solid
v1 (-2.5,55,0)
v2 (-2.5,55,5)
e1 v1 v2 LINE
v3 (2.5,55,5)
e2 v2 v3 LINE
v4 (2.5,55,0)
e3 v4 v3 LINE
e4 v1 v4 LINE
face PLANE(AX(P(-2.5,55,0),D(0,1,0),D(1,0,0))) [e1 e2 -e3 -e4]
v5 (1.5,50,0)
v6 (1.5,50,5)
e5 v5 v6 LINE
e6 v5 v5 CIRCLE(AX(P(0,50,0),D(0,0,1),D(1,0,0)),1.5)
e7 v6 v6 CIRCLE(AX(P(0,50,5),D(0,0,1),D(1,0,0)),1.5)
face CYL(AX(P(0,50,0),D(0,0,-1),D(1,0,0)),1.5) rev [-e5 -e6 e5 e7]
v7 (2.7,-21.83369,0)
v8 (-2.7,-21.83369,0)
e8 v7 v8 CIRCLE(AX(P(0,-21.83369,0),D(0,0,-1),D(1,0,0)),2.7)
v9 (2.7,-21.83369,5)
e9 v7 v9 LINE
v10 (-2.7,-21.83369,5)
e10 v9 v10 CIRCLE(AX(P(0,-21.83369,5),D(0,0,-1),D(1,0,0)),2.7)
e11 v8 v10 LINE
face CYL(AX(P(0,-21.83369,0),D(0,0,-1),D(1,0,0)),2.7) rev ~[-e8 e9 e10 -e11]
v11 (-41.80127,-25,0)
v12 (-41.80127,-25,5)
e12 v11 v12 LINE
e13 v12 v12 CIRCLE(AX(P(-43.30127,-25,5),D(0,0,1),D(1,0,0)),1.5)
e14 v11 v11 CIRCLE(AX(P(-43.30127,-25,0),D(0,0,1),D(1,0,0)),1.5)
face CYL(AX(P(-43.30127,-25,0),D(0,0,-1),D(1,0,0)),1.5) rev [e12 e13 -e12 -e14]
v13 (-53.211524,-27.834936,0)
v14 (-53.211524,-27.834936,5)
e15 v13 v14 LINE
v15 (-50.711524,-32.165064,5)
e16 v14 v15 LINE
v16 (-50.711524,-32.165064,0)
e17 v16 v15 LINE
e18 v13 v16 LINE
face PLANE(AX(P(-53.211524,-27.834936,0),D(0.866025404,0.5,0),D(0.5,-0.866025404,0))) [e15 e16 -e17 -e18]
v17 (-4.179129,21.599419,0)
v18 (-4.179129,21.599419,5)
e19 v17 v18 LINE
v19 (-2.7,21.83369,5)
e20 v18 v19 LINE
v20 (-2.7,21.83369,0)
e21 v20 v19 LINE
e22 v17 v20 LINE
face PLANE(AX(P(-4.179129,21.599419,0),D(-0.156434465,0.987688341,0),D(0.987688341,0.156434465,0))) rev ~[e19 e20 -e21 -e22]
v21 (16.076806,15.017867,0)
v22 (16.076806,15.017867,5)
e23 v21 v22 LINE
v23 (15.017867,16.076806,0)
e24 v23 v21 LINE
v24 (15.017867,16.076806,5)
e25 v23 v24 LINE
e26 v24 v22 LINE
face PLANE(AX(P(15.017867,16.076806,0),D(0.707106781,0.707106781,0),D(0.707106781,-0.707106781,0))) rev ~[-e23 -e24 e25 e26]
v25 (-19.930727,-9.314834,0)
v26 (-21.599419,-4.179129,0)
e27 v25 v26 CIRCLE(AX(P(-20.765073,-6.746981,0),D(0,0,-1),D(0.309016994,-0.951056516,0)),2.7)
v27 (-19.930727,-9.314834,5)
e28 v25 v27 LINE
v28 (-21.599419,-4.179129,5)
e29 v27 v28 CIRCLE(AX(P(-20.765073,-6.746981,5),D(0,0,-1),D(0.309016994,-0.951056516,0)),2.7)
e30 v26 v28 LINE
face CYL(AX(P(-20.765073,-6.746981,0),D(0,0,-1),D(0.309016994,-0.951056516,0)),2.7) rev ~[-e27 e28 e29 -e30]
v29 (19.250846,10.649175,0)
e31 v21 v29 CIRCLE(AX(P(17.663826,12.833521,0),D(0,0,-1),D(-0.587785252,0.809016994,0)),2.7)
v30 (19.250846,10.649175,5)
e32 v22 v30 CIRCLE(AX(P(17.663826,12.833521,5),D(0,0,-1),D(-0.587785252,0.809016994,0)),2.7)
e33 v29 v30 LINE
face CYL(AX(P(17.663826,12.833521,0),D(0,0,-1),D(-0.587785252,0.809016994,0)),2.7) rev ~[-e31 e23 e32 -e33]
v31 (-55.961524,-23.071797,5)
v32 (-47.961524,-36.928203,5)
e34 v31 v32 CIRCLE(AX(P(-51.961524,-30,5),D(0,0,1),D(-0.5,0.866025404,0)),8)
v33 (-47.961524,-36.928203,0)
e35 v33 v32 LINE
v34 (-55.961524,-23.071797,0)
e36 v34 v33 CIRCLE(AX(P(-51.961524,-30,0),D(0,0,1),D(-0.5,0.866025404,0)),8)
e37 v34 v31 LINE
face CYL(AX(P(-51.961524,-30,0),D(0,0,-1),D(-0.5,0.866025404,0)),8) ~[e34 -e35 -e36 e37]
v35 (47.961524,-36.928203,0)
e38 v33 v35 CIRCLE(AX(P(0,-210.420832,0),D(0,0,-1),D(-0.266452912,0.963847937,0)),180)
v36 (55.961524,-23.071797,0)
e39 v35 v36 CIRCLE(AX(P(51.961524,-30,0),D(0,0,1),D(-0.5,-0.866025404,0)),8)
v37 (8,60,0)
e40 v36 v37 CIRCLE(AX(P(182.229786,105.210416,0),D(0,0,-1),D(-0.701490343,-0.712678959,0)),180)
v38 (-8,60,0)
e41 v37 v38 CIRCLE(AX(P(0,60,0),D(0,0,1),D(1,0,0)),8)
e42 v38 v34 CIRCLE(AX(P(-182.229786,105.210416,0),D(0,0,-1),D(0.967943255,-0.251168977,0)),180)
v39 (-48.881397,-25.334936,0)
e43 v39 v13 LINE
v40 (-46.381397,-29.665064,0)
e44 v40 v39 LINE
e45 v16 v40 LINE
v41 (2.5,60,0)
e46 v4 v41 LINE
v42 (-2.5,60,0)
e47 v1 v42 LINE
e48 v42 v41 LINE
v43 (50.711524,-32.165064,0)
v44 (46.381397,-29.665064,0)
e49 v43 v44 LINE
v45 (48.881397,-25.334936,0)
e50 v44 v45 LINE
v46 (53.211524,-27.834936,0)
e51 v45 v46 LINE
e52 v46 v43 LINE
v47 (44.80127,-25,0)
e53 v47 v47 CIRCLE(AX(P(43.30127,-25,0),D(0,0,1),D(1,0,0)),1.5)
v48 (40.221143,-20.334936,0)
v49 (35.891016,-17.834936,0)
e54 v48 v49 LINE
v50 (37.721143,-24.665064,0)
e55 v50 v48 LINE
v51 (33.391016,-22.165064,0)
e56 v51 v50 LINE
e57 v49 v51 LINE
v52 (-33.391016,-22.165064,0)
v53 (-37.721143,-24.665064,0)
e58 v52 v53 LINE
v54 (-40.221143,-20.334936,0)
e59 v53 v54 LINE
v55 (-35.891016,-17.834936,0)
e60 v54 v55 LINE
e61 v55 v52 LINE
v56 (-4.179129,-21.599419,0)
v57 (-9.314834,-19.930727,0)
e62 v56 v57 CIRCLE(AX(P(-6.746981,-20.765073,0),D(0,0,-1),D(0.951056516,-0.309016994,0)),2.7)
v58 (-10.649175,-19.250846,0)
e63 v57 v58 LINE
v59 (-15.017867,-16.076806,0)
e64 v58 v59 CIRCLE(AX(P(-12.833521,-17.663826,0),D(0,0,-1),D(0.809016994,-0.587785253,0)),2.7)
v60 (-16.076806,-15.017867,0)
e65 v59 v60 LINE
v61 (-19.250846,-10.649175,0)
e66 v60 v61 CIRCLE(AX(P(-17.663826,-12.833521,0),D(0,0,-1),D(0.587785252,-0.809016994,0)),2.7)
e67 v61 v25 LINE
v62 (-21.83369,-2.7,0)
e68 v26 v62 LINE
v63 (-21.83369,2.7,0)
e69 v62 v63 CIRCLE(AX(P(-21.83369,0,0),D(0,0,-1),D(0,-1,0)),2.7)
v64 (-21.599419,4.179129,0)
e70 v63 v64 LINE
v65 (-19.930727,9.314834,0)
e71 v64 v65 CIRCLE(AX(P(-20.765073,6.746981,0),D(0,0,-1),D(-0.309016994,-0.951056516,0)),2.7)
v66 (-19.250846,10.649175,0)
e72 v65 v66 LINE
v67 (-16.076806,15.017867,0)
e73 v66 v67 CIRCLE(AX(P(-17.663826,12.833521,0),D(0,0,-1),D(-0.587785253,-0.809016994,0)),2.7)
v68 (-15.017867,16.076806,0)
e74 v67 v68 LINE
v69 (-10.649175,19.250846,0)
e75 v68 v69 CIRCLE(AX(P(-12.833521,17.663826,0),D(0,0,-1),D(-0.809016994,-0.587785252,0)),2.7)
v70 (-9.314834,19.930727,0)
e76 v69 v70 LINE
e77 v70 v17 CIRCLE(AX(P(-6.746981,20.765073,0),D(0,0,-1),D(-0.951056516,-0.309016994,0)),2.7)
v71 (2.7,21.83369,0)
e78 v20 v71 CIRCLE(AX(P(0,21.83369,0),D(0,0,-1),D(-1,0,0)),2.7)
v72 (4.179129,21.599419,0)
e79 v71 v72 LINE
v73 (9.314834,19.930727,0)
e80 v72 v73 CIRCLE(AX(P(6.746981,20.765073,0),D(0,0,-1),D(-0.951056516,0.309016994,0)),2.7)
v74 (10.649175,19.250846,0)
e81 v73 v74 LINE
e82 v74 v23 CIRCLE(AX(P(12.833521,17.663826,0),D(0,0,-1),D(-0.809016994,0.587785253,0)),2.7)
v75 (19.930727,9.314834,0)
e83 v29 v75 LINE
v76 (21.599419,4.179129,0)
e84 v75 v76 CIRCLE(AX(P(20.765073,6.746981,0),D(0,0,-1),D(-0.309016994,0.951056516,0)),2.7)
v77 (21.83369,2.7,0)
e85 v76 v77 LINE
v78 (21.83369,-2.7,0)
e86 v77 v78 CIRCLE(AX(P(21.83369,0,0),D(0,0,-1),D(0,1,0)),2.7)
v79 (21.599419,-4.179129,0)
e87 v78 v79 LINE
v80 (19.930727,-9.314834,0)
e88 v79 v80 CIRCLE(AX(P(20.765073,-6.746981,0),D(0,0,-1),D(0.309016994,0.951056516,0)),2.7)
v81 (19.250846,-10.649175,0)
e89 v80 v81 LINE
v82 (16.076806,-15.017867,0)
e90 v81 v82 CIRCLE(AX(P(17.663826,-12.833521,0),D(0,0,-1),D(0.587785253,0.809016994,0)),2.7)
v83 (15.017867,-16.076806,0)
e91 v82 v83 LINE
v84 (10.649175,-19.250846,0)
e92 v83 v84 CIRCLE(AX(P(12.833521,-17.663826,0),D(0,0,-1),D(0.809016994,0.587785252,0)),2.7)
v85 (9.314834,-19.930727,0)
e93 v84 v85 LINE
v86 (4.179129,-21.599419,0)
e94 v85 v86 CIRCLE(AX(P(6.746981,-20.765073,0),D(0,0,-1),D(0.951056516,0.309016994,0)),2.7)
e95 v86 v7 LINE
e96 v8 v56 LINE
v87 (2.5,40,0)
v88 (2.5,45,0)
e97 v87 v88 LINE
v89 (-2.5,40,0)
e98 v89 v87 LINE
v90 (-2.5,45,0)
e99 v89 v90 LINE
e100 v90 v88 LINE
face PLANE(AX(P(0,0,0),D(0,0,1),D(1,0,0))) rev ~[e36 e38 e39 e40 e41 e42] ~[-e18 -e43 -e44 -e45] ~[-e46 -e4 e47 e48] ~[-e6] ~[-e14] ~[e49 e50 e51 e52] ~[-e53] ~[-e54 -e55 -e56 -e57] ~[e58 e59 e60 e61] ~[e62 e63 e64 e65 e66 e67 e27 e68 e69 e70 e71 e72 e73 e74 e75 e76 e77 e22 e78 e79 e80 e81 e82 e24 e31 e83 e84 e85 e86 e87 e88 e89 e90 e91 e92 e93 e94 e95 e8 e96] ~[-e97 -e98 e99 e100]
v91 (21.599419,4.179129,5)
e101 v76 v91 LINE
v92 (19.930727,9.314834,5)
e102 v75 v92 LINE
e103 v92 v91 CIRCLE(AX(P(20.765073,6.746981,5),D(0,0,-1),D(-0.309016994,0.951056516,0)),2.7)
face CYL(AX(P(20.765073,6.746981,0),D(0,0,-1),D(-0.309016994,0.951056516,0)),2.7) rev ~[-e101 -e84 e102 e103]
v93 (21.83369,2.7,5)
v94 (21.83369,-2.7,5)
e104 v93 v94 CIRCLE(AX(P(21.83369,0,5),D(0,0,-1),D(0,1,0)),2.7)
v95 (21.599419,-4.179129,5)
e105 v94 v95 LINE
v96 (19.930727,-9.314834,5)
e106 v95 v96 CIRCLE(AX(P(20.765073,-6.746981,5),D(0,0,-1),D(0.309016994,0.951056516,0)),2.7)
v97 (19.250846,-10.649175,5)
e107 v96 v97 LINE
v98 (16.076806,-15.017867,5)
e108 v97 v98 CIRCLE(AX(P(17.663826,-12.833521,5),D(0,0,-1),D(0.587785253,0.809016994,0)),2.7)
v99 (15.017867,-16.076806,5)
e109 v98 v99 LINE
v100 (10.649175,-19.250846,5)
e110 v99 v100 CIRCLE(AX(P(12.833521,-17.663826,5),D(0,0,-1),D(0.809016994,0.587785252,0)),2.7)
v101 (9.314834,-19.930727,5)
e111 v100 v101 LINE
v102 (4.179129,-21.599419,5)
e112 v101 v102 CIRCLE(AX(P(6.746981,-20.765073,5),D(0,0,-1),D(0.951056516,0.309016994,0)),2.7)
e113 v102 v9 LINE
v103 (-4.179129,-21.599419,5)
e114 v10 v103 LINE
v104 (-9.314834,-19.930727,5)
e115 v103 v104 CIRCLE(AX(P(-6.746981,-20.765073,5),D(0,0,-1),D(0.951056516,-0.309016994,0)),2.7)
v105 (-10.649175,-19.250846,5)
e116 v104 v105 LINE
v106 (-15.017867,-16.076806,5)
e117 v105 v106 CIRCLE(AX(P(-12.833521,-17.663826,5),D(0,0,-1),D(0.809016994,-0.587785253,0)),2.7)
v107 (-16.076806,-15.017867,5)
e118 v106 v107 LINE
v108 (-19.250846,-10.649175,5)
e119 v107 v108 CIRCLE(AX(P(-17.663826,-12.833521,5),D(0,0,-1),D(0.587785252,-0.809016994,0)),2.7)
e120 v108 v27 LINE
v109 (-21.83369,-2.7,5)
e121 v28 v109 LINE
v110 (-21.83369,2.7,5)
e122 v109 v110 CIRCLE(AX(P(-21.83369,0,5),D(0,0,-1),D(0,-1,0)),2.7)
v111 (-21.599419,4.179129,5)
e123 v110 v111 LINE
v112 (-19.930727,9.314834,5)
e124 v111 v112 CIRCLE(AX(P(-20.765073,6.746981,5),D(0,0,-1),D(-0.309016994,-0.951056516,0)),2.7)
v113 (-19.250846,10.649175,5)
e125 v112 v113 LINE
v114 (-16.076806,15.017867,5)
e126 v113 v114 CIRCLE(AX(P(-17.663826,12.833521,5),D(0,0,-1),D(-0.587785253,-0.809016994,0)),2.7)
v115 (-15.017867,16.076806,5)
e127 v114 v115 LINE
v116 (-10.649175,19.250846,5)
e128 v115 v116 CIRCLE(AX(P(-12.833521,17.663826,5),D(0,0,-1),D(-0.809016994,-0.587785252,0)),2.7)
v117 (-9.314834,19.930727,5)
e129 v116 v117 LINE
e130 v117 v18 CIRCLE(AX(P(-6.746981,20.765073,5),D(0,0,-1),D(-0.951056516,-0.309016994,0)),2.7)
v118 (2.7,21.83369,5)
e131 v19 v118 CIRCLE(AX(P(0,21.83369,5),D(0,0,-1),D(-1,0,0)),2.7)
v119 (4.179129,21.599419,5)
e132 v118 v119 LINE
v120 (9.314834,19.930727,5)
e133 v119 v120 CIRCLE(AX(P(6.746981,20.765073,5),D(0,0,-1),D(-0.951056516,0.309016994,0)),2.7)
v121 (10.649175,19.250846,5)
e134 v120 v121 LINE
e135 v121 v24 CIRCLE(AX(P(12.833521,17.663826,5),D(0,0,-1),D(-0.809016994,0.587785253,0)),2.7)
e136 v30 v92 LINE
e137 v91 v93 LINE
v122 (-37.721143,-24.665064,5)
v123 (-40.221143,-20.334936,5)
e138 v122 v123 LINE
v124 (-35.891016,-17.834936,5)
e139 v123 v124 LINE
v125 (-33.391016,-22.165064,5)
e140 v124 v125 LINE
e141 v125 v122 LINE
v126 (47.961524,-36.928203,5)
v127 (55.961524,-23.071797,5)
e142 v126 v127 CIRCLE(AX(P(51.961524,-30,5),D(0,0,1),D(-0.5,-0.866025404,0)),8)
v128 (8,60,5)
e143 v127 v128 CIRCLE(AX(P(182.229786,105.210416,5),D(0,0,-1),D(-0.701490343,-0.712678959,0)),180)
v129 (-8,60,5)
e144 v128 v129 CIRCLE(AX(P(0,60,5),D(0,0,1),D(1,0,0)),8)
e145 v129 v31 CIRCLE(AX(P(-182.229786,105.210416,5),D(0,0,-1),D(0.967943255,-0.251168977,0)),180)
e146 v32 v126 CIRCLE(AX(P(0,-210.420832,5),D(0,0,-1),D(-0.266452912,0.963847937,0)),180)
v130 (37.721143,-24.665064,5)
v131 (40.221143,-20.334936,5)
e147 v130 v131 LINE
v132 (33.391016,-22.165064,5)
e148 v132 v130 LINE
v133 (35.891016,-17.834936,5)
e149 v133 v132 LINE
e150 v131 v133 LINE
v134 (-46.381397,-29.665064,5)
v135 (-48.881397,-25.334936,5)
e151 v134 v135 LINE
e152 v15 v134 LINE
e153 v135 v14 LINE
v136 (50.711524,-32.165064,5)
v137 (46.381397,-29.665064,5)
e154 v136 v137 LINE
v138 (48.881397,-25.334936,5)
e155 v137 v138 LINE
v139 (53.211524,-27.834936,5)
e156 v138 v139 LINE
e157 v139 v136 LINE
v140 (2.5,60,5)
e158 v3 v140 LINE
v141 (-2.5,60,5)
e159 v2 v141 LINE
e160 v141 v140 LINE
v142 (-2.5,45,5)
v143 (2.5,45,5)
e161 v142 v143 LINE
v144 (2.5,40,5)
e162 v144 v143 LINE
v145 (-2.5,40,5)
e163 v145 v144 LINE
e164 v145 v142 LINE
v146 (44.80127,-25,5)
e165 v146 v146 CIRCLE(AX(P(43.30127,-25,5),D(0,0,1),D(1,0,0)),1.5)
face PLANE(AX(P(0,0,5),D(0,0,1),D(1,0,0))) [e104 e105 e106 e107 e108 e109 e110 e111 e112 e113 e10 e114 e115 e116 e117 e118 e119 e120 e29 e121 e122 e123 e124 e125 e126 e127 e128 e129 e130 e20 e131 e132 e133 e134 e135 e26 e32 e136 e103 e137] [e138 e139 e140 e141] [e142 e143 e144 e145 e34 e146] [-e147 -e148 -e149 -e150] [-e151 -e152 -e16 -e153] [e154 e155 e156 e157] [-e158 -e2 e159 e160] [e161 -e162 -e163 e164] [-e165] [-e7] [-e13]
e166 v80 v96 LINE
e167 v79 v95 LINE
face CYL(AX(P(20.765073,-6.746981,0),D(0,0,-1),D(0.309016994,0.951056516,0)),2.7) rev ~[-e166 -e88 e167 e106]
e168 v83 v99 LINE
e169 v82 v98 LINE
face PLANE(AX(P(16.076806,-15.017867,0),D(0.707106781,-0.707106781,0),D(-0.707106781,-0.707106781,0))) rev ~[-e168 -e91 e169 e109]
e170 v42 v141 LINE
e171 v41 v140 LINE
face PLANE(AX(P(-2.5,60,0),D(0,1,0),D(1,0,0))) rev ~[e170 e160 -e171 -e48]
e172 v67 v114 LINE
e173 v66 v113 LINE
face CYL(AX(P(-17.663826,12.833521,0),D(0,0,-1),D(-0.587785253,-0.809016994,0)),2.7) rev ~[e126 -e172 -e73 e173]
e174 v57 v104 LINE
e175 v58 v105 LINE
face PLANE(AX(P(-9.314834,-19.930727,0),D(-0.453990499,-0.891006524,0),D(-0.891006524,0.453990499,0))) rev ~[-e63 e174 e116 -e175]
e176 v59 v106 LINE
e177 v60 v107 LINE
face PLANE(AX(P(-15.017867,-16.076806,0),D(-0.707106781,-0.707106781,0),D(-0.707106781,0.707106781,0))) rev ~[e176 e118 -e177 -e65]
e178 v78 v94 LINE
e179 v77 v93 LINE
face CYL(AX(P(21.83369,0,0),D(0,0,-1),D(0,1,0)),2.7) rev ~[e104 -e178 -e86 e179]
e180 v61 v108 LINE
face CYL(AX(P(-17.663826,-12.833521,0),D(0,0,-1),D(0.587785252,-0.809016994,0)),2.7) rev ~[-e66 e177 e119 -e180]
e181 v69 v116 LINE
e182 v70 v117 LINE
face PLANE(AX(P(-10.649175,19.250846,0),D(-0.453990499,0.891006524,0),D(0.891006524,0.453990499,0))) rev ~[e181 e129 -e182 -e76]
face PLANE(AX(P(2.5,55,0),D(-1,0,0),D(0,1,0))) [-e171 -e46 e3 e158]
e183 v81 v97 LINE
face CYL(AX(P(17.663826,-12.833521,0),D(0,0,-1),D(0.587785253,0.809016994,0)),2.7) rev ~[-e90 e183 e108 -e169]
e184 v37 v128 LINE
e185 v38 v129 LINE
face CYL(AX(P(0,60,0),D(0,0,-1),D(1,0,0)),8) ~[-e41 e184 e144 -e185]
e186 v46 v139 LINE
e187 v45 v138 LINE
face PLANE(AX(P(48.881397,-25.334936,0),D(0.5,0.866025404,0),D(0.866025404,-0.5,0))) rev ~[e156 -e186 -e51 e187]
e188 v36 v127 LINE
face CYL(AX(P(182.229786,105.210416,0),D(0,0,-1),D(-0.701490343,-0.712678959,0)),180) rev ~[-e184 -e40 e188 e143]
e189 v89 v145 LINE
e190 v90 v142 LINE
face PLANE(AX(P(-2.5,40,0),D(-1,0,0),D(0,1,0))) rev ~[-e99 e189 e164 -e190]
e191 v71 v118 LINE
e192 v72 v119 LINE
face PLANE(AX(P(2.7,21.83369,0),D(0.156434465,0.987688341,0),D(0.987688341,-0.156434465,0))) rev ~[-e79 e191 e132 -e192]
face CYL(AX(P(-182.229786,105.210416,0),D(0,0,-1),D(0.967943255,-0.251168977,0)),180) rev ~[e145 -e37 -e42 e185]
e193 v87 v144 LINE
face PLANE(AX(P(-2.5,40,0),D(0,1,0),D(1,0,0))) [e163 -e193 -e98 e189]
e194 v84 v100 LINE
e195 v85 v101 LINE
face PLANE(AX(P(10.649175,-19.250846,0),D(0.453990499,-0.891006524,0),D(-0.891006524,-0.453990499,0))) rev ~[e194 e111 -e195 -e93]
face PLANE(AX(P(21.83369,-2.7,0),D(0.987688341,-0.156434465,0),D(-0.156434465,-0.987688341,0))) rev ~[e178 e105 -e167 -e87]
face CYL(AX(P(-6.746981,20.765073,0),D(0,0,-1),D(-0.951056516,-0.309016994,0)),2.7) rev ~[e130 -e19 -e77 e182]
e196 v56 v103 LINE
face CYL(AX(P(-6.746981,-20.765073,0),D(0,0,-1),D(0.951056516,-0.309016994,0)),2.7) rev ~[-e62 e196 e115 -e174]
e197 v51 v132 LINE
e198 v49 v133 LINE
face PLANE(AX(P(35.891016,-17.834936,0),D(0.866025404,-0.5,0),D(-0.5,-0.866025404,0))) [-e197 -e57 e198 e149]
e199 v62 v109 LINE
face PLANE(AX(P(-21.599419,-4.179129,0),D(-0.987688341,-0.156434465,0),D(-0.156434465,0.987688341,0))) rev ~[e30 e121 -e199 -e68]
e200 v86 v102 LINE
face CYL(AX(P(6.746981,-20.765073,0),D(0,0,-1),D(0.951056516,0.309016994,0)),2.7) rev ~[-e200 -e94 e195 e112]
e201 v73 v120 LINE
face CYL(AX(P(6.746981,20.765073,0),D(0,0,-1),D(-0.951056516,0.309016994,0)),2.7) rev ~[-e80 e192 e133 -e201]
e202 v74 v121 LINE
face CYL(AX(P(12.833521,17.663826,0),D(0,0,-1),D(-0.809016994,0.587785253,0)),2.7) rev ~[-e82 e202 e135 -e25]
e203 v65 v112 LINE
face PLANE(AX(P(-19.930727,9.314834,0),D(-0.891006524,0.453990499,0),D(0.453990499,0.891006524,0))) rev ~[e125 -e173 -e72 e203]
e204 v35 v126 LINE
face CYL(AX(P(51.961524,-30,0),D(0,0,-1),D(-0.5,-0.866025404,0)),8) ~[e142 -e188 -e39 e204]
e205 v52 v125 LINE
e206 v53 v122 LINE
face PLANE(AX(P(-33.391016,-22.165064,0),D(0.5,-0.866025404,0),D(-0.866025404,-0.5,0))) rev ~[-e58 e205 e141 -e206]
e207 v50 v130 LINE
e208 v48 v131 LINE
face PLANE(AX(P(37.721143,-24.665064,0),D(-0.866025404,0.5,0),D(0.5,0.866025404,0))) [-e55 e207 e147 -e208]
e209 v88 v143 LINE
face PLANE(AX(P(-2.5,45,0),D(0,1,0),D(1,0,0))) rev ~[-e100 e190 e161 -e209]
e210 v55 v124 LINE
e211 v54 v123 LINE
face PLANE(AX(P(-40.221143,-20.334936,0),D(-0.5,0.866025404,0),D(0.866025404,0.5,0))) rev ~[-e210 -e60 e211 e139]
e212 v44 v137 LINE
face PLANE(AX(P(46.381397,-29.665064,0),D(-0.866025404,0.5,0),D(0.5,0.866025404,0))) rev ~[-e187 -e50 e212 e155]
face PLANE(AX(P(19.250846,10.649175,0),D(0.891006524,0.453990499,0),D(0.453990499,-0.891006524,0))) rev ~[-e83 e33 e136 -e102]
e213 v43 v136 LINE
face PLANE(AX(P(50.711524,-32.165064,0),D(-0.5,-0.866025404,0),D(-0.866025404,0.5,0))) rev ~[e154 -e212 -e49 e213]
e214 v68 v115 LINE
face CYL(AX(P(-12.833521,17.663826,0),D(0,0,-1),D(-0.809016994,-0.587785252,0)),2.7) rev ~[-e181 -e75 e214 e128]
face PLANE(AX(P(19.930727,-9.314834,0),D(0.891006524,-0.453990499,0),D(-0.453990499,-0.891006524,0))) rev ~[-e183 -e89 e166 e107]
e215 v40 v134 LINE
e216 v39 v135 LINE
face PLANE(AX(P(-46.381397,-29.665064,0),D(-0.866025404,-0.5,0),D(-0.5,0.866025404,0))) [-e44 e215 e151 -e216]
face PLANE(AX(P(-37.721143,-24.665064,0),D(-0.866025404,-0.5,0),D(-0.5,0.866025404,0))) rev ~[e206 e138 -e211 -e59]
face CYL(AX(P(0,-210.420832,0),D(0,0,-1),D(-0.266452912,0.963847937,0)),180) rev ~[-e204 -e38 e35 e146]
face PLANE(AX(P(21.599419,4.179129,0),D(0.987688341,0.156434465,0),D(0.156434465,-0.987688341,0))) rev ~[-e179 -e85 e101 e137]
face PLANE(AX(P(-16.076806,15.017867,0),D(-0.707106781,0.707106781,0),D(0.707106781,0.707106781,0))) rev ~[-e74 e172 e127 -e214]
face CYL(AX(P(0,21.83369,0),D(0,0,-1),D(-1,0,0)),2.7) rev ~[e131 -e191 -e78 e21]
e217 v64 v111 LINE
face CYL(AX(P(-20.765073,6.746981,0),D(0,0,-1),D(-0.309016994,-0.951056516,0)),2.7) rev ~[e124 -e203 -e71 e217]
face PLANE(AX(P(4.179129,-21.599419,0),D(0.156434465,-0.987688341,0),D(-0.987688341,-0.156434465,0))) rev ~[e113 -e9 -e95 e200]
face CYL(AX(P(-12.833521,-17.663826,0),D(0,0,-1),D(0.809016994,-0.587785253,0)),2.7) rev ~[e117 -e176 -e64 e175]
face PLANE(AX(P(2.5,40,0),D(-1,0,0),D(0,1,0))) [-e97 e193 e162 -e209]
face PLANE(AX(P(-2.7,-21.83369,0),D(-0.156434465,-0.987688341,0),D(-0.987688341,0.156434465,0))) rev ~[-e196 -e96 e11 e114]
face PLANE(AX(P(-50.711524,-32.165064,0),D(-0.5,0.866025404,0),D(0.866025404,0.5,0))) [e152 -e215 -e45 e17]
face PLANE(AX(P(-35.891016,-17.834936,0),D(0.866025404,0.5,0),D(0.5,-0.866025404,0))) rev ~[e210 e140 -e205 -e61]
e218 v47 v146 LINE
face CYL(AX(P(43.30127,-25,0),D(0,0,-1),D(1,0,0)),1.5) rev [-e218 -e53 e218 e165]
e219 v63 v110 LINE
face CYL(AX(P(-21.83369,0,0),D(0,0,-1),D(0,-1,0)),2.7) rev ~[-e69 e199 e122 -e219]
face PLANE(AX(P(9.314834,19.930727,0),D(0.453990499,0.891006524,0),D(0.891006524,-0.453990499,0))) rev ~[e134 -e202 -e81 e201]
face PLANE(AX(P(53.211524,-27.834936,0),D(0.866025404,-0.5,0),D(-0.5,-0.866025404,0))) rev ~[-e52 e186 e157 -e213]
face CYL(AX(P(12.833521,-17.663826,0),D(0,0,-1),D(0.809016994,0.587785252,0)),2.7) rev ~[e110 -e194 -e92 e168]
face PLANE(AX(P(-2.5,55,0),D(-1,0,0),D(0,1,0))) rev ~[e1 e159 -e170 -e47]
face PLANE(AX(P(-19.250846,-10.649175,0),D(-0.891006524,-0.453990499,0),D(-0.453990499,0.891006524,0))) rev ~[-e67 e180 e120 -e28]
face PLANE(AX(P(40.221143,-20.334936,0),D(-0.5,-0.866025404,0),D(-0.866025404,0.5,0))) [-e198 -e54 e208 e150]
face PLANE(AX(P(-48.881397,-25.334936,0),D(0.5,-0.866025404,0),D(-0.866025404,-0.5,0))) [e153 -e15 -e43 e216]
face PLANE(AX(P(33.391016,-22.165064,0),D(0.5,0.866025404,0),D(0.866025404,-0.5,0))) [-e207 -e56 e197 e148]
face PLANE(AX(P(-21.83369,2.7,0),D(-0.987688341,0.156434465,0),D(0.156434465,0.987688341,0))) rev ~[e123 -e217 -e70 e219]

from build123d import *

# Parameters (mm, degrees)
ESQUISSE1_R        = 1.5
ESQUISSE1_W        = 5
ESQUISSE1_H        = 5
BOSS_EXTRU_1_DEPTH = 5


with BuildPart() as part:
    # Esquisse1 → Boss.-Extru.1 (new body)
    with BuildSketch(Plane.XY):
        with BuildLine():
            ThreePointArc((-55.961524227, -23.07179677), (-58.889727457, -34), (-47.961524227, -36.92820323))
            ThreePointArc((-47.961524227, -36.92820323), (0, -30.420831874), (47.961524227, -36.92820323))
            ThreePointArc((47.961524227, -36.92820323), (58.889727457, -34), (55.961524227, -23.07179677))
            ThreePointArc((55.961524227, -23.07179677), (26.345213207, 15.210415937), (8, 60))
            ThreePointArc((8, 60), (0, 68), (-8, 60))
            ThreePointArc((-8, 60), (-26.345213207, 15.210415937), (-55.961524227, -23.07179677))
        make_face()
        with Locations((43.301270189, -25)):
            Circle(ESQUISSE1_R, mode=Mode.SUBTRACT)
        with Locations((0, 50)):
            Circle(ESQUISSE1_R, mode=Mode.SUBTRACT)
        with Locations((-43.301270189, -25)):
            Circle(ESQUISSE1_R, mode=Mode.SUBTRACT)
        with BuildLine():
            Line((2.7, 21.833689565), (4.179128531, 21.59941862))
            ThreePointArc((4.179128531, 21.59941862), (7.58132701, 23.332925329), (9.314833719, 19.93072685))
            Line((9.314833719, 19.93072685), (10.649174844, 19.250846089))
            ThreePointArc((10.649174844, 19.250846089), (14.42054091, 19.848171792), (15.017866614, 16.076805726))
            Line((15.017866614, 16.076805726), (16.076805726, 15.017866614))
            ThreePointArc((16.076805726, 15.017866614), (19.848171792, 14.42054091), (19.250846089, 10.649174844))
            Line((19.250846089, 10.649174844), (19.93072685, 9.314833719))
            ThreePointArc((19.93072685, 9.314833719), (23.332925329, 7.58132701), (21.59941862, 4.179128531))
            Line((21.59941862, 4.179128531), (21.833689565, 2.7))
            ThreePointArc((21.833689565, 2.7), (24.533689565, 0), (21.833689565, -2.7))
            Line((21.833689565, -2.7), (21.59941862, -4.179128531))
            ThreePointArc((21.59941862, -4.179128531), (23.332925329, -7.58132701), (19.93072685, -9.314833719))
            Line((19.93072685, -9.314833719), (19.250846089, -10.649174844))
            ThreePointArc((19.250846089, -10.649174844), (19.848171792, -14.42054091), (16.076805726, -15.017866614))
            Line((16.076805726, -15.017866614), (15.017866614, -16.076805726))
            ThreePointArc((15.017866614, -16.076805726), (14.42054091, -19.848171792), (10.649174844, -19.250846089))
            Line((10.649174844, -19.250846089), (9.314833719, -19.93072685))
            ThreePointArc((9.314833719, -19.93072685), (7.58132701, -23.332925329), (4.179128531, -21.59941862))
            Line((4.179128531, -21.59941862), (2.7, -21.833689565))
            ThreePointArc((2.7, -21.833689565), (0, -24.533689565), (-2.7, -21.833689565))
            Line((-2.7, -21.833689565), (-4.179128531, -21.59941862))
            ThreePointArc((-4.179128531, -21.59941862), (-7.58132701, -23.332925329), (-9.314833719, -19.93072685))
            Line((-9.314833719, -19.93072685), (-10.649174844, -19.250846089))
            ThreePointArc((-10.649174844, -19.250846089), (-14.42054091, -19.848171792), (-15.017866614, -16.076805726))
            Line((-15.017866614, -16.076805726), (-16.076805726, -15.017866614))
            ThreePointArc((-16.076805726, -15.017866614), (-19.848171792, -14.42054091), (-19.250846089, -10.649174844))
            Line((-19.250846089, -10.649174844), (-19.93072685, -9.314833719))
            ThreePointArc((-19.93072685, -9.314833719), (-23.332925329, -7.58132701), (-21.59941862, -4.179128531))
            Line((-21.59941862, -4.179128531), (-21.833689565, -2.7))
            ThreePointArc((-21.833689565, -2.7), (-24.533689565, 0), (-21.833689565, 2.7))
            Line((-21.833689565, 2.7), (-21.59941862, 4.179128531))
            ThreePointArc((-21.59941862, 4.179128531), (-23.332925329, 7.58132701), (-19.93072685, 9.314833719))
            Line((-19.93072685, 9.314833719), (-19.250846089, 10.649174844))
            ThreePointArc((-19.250846089, 10.649174844), (-19.848171792, 14.42054091), (-16.076805726, 15.017866614))
            Line((-16.076805726, 15.017866614), (-15.017866614, 16.076805726))
            ThreePointArc((-15.017866614, 16.076805726), (-14.42054091, 19.848171792), (-10.649174844, 19.250846089))
            Line((-10.649174844, 19.250846089), (-9.314833719, 19.93072685))
            ThreePointArc((-9.314833719, 19.93072685), (-7.58132701, 23.332925329), (-4.179128531, 21.59941862))
            Line((-4.179128531, 21.59941862), (-2.7, 21.833689565))
            ThreePointArc((-2.7, 21.833689565), (0, 24.533689565), (2.7, 21.833689565))
        make_face(mode=Mode.SUBTRACT)
        Polygon((40.22114317, -20.334936491), (35.891016151, -17.834936491), (33.391016151, -22.165063509), (37.72114317, -24.665063509), align=None, mode=Mode.SUBTRACT)
        Polygon((48.881397208, -25.334936491), (53.211524227, -27.834936491), (50.711524227, -32.165063509), (46.381397208, -29.665063509), align=None, mode=Mode.SUBTRACT)
        with Locations((0, 57.5)):
            Rectangle(ESQUISSE1_W, ESQUISSE1_H, mode=Mode.SUBTRACT)
        with Locations((0, 42.5)):
            Rectangle(ESQUISSE1_W, ESQUISSE1_H, mode=Mode.SUBTRACT)
        Polygon((-48.881397208, -25.334936491), (-53.211524227, -27.834936491), (-50.711524227, -32.165063509), (-46.381397208, -29.665063509), align=None, mode=Mode.SUBTRACT)
        Polygon((-40.22114317, -20.334936491), (-35.891016151, -17.834936491), (-33.391016151, -22.165063509), (-37.72114317, -24.665063509), align=None, mode=Mode.SUBTRACT)
    extrude(amount=BOSS_EXTRU_1_DEPTH)


solid = part.part
